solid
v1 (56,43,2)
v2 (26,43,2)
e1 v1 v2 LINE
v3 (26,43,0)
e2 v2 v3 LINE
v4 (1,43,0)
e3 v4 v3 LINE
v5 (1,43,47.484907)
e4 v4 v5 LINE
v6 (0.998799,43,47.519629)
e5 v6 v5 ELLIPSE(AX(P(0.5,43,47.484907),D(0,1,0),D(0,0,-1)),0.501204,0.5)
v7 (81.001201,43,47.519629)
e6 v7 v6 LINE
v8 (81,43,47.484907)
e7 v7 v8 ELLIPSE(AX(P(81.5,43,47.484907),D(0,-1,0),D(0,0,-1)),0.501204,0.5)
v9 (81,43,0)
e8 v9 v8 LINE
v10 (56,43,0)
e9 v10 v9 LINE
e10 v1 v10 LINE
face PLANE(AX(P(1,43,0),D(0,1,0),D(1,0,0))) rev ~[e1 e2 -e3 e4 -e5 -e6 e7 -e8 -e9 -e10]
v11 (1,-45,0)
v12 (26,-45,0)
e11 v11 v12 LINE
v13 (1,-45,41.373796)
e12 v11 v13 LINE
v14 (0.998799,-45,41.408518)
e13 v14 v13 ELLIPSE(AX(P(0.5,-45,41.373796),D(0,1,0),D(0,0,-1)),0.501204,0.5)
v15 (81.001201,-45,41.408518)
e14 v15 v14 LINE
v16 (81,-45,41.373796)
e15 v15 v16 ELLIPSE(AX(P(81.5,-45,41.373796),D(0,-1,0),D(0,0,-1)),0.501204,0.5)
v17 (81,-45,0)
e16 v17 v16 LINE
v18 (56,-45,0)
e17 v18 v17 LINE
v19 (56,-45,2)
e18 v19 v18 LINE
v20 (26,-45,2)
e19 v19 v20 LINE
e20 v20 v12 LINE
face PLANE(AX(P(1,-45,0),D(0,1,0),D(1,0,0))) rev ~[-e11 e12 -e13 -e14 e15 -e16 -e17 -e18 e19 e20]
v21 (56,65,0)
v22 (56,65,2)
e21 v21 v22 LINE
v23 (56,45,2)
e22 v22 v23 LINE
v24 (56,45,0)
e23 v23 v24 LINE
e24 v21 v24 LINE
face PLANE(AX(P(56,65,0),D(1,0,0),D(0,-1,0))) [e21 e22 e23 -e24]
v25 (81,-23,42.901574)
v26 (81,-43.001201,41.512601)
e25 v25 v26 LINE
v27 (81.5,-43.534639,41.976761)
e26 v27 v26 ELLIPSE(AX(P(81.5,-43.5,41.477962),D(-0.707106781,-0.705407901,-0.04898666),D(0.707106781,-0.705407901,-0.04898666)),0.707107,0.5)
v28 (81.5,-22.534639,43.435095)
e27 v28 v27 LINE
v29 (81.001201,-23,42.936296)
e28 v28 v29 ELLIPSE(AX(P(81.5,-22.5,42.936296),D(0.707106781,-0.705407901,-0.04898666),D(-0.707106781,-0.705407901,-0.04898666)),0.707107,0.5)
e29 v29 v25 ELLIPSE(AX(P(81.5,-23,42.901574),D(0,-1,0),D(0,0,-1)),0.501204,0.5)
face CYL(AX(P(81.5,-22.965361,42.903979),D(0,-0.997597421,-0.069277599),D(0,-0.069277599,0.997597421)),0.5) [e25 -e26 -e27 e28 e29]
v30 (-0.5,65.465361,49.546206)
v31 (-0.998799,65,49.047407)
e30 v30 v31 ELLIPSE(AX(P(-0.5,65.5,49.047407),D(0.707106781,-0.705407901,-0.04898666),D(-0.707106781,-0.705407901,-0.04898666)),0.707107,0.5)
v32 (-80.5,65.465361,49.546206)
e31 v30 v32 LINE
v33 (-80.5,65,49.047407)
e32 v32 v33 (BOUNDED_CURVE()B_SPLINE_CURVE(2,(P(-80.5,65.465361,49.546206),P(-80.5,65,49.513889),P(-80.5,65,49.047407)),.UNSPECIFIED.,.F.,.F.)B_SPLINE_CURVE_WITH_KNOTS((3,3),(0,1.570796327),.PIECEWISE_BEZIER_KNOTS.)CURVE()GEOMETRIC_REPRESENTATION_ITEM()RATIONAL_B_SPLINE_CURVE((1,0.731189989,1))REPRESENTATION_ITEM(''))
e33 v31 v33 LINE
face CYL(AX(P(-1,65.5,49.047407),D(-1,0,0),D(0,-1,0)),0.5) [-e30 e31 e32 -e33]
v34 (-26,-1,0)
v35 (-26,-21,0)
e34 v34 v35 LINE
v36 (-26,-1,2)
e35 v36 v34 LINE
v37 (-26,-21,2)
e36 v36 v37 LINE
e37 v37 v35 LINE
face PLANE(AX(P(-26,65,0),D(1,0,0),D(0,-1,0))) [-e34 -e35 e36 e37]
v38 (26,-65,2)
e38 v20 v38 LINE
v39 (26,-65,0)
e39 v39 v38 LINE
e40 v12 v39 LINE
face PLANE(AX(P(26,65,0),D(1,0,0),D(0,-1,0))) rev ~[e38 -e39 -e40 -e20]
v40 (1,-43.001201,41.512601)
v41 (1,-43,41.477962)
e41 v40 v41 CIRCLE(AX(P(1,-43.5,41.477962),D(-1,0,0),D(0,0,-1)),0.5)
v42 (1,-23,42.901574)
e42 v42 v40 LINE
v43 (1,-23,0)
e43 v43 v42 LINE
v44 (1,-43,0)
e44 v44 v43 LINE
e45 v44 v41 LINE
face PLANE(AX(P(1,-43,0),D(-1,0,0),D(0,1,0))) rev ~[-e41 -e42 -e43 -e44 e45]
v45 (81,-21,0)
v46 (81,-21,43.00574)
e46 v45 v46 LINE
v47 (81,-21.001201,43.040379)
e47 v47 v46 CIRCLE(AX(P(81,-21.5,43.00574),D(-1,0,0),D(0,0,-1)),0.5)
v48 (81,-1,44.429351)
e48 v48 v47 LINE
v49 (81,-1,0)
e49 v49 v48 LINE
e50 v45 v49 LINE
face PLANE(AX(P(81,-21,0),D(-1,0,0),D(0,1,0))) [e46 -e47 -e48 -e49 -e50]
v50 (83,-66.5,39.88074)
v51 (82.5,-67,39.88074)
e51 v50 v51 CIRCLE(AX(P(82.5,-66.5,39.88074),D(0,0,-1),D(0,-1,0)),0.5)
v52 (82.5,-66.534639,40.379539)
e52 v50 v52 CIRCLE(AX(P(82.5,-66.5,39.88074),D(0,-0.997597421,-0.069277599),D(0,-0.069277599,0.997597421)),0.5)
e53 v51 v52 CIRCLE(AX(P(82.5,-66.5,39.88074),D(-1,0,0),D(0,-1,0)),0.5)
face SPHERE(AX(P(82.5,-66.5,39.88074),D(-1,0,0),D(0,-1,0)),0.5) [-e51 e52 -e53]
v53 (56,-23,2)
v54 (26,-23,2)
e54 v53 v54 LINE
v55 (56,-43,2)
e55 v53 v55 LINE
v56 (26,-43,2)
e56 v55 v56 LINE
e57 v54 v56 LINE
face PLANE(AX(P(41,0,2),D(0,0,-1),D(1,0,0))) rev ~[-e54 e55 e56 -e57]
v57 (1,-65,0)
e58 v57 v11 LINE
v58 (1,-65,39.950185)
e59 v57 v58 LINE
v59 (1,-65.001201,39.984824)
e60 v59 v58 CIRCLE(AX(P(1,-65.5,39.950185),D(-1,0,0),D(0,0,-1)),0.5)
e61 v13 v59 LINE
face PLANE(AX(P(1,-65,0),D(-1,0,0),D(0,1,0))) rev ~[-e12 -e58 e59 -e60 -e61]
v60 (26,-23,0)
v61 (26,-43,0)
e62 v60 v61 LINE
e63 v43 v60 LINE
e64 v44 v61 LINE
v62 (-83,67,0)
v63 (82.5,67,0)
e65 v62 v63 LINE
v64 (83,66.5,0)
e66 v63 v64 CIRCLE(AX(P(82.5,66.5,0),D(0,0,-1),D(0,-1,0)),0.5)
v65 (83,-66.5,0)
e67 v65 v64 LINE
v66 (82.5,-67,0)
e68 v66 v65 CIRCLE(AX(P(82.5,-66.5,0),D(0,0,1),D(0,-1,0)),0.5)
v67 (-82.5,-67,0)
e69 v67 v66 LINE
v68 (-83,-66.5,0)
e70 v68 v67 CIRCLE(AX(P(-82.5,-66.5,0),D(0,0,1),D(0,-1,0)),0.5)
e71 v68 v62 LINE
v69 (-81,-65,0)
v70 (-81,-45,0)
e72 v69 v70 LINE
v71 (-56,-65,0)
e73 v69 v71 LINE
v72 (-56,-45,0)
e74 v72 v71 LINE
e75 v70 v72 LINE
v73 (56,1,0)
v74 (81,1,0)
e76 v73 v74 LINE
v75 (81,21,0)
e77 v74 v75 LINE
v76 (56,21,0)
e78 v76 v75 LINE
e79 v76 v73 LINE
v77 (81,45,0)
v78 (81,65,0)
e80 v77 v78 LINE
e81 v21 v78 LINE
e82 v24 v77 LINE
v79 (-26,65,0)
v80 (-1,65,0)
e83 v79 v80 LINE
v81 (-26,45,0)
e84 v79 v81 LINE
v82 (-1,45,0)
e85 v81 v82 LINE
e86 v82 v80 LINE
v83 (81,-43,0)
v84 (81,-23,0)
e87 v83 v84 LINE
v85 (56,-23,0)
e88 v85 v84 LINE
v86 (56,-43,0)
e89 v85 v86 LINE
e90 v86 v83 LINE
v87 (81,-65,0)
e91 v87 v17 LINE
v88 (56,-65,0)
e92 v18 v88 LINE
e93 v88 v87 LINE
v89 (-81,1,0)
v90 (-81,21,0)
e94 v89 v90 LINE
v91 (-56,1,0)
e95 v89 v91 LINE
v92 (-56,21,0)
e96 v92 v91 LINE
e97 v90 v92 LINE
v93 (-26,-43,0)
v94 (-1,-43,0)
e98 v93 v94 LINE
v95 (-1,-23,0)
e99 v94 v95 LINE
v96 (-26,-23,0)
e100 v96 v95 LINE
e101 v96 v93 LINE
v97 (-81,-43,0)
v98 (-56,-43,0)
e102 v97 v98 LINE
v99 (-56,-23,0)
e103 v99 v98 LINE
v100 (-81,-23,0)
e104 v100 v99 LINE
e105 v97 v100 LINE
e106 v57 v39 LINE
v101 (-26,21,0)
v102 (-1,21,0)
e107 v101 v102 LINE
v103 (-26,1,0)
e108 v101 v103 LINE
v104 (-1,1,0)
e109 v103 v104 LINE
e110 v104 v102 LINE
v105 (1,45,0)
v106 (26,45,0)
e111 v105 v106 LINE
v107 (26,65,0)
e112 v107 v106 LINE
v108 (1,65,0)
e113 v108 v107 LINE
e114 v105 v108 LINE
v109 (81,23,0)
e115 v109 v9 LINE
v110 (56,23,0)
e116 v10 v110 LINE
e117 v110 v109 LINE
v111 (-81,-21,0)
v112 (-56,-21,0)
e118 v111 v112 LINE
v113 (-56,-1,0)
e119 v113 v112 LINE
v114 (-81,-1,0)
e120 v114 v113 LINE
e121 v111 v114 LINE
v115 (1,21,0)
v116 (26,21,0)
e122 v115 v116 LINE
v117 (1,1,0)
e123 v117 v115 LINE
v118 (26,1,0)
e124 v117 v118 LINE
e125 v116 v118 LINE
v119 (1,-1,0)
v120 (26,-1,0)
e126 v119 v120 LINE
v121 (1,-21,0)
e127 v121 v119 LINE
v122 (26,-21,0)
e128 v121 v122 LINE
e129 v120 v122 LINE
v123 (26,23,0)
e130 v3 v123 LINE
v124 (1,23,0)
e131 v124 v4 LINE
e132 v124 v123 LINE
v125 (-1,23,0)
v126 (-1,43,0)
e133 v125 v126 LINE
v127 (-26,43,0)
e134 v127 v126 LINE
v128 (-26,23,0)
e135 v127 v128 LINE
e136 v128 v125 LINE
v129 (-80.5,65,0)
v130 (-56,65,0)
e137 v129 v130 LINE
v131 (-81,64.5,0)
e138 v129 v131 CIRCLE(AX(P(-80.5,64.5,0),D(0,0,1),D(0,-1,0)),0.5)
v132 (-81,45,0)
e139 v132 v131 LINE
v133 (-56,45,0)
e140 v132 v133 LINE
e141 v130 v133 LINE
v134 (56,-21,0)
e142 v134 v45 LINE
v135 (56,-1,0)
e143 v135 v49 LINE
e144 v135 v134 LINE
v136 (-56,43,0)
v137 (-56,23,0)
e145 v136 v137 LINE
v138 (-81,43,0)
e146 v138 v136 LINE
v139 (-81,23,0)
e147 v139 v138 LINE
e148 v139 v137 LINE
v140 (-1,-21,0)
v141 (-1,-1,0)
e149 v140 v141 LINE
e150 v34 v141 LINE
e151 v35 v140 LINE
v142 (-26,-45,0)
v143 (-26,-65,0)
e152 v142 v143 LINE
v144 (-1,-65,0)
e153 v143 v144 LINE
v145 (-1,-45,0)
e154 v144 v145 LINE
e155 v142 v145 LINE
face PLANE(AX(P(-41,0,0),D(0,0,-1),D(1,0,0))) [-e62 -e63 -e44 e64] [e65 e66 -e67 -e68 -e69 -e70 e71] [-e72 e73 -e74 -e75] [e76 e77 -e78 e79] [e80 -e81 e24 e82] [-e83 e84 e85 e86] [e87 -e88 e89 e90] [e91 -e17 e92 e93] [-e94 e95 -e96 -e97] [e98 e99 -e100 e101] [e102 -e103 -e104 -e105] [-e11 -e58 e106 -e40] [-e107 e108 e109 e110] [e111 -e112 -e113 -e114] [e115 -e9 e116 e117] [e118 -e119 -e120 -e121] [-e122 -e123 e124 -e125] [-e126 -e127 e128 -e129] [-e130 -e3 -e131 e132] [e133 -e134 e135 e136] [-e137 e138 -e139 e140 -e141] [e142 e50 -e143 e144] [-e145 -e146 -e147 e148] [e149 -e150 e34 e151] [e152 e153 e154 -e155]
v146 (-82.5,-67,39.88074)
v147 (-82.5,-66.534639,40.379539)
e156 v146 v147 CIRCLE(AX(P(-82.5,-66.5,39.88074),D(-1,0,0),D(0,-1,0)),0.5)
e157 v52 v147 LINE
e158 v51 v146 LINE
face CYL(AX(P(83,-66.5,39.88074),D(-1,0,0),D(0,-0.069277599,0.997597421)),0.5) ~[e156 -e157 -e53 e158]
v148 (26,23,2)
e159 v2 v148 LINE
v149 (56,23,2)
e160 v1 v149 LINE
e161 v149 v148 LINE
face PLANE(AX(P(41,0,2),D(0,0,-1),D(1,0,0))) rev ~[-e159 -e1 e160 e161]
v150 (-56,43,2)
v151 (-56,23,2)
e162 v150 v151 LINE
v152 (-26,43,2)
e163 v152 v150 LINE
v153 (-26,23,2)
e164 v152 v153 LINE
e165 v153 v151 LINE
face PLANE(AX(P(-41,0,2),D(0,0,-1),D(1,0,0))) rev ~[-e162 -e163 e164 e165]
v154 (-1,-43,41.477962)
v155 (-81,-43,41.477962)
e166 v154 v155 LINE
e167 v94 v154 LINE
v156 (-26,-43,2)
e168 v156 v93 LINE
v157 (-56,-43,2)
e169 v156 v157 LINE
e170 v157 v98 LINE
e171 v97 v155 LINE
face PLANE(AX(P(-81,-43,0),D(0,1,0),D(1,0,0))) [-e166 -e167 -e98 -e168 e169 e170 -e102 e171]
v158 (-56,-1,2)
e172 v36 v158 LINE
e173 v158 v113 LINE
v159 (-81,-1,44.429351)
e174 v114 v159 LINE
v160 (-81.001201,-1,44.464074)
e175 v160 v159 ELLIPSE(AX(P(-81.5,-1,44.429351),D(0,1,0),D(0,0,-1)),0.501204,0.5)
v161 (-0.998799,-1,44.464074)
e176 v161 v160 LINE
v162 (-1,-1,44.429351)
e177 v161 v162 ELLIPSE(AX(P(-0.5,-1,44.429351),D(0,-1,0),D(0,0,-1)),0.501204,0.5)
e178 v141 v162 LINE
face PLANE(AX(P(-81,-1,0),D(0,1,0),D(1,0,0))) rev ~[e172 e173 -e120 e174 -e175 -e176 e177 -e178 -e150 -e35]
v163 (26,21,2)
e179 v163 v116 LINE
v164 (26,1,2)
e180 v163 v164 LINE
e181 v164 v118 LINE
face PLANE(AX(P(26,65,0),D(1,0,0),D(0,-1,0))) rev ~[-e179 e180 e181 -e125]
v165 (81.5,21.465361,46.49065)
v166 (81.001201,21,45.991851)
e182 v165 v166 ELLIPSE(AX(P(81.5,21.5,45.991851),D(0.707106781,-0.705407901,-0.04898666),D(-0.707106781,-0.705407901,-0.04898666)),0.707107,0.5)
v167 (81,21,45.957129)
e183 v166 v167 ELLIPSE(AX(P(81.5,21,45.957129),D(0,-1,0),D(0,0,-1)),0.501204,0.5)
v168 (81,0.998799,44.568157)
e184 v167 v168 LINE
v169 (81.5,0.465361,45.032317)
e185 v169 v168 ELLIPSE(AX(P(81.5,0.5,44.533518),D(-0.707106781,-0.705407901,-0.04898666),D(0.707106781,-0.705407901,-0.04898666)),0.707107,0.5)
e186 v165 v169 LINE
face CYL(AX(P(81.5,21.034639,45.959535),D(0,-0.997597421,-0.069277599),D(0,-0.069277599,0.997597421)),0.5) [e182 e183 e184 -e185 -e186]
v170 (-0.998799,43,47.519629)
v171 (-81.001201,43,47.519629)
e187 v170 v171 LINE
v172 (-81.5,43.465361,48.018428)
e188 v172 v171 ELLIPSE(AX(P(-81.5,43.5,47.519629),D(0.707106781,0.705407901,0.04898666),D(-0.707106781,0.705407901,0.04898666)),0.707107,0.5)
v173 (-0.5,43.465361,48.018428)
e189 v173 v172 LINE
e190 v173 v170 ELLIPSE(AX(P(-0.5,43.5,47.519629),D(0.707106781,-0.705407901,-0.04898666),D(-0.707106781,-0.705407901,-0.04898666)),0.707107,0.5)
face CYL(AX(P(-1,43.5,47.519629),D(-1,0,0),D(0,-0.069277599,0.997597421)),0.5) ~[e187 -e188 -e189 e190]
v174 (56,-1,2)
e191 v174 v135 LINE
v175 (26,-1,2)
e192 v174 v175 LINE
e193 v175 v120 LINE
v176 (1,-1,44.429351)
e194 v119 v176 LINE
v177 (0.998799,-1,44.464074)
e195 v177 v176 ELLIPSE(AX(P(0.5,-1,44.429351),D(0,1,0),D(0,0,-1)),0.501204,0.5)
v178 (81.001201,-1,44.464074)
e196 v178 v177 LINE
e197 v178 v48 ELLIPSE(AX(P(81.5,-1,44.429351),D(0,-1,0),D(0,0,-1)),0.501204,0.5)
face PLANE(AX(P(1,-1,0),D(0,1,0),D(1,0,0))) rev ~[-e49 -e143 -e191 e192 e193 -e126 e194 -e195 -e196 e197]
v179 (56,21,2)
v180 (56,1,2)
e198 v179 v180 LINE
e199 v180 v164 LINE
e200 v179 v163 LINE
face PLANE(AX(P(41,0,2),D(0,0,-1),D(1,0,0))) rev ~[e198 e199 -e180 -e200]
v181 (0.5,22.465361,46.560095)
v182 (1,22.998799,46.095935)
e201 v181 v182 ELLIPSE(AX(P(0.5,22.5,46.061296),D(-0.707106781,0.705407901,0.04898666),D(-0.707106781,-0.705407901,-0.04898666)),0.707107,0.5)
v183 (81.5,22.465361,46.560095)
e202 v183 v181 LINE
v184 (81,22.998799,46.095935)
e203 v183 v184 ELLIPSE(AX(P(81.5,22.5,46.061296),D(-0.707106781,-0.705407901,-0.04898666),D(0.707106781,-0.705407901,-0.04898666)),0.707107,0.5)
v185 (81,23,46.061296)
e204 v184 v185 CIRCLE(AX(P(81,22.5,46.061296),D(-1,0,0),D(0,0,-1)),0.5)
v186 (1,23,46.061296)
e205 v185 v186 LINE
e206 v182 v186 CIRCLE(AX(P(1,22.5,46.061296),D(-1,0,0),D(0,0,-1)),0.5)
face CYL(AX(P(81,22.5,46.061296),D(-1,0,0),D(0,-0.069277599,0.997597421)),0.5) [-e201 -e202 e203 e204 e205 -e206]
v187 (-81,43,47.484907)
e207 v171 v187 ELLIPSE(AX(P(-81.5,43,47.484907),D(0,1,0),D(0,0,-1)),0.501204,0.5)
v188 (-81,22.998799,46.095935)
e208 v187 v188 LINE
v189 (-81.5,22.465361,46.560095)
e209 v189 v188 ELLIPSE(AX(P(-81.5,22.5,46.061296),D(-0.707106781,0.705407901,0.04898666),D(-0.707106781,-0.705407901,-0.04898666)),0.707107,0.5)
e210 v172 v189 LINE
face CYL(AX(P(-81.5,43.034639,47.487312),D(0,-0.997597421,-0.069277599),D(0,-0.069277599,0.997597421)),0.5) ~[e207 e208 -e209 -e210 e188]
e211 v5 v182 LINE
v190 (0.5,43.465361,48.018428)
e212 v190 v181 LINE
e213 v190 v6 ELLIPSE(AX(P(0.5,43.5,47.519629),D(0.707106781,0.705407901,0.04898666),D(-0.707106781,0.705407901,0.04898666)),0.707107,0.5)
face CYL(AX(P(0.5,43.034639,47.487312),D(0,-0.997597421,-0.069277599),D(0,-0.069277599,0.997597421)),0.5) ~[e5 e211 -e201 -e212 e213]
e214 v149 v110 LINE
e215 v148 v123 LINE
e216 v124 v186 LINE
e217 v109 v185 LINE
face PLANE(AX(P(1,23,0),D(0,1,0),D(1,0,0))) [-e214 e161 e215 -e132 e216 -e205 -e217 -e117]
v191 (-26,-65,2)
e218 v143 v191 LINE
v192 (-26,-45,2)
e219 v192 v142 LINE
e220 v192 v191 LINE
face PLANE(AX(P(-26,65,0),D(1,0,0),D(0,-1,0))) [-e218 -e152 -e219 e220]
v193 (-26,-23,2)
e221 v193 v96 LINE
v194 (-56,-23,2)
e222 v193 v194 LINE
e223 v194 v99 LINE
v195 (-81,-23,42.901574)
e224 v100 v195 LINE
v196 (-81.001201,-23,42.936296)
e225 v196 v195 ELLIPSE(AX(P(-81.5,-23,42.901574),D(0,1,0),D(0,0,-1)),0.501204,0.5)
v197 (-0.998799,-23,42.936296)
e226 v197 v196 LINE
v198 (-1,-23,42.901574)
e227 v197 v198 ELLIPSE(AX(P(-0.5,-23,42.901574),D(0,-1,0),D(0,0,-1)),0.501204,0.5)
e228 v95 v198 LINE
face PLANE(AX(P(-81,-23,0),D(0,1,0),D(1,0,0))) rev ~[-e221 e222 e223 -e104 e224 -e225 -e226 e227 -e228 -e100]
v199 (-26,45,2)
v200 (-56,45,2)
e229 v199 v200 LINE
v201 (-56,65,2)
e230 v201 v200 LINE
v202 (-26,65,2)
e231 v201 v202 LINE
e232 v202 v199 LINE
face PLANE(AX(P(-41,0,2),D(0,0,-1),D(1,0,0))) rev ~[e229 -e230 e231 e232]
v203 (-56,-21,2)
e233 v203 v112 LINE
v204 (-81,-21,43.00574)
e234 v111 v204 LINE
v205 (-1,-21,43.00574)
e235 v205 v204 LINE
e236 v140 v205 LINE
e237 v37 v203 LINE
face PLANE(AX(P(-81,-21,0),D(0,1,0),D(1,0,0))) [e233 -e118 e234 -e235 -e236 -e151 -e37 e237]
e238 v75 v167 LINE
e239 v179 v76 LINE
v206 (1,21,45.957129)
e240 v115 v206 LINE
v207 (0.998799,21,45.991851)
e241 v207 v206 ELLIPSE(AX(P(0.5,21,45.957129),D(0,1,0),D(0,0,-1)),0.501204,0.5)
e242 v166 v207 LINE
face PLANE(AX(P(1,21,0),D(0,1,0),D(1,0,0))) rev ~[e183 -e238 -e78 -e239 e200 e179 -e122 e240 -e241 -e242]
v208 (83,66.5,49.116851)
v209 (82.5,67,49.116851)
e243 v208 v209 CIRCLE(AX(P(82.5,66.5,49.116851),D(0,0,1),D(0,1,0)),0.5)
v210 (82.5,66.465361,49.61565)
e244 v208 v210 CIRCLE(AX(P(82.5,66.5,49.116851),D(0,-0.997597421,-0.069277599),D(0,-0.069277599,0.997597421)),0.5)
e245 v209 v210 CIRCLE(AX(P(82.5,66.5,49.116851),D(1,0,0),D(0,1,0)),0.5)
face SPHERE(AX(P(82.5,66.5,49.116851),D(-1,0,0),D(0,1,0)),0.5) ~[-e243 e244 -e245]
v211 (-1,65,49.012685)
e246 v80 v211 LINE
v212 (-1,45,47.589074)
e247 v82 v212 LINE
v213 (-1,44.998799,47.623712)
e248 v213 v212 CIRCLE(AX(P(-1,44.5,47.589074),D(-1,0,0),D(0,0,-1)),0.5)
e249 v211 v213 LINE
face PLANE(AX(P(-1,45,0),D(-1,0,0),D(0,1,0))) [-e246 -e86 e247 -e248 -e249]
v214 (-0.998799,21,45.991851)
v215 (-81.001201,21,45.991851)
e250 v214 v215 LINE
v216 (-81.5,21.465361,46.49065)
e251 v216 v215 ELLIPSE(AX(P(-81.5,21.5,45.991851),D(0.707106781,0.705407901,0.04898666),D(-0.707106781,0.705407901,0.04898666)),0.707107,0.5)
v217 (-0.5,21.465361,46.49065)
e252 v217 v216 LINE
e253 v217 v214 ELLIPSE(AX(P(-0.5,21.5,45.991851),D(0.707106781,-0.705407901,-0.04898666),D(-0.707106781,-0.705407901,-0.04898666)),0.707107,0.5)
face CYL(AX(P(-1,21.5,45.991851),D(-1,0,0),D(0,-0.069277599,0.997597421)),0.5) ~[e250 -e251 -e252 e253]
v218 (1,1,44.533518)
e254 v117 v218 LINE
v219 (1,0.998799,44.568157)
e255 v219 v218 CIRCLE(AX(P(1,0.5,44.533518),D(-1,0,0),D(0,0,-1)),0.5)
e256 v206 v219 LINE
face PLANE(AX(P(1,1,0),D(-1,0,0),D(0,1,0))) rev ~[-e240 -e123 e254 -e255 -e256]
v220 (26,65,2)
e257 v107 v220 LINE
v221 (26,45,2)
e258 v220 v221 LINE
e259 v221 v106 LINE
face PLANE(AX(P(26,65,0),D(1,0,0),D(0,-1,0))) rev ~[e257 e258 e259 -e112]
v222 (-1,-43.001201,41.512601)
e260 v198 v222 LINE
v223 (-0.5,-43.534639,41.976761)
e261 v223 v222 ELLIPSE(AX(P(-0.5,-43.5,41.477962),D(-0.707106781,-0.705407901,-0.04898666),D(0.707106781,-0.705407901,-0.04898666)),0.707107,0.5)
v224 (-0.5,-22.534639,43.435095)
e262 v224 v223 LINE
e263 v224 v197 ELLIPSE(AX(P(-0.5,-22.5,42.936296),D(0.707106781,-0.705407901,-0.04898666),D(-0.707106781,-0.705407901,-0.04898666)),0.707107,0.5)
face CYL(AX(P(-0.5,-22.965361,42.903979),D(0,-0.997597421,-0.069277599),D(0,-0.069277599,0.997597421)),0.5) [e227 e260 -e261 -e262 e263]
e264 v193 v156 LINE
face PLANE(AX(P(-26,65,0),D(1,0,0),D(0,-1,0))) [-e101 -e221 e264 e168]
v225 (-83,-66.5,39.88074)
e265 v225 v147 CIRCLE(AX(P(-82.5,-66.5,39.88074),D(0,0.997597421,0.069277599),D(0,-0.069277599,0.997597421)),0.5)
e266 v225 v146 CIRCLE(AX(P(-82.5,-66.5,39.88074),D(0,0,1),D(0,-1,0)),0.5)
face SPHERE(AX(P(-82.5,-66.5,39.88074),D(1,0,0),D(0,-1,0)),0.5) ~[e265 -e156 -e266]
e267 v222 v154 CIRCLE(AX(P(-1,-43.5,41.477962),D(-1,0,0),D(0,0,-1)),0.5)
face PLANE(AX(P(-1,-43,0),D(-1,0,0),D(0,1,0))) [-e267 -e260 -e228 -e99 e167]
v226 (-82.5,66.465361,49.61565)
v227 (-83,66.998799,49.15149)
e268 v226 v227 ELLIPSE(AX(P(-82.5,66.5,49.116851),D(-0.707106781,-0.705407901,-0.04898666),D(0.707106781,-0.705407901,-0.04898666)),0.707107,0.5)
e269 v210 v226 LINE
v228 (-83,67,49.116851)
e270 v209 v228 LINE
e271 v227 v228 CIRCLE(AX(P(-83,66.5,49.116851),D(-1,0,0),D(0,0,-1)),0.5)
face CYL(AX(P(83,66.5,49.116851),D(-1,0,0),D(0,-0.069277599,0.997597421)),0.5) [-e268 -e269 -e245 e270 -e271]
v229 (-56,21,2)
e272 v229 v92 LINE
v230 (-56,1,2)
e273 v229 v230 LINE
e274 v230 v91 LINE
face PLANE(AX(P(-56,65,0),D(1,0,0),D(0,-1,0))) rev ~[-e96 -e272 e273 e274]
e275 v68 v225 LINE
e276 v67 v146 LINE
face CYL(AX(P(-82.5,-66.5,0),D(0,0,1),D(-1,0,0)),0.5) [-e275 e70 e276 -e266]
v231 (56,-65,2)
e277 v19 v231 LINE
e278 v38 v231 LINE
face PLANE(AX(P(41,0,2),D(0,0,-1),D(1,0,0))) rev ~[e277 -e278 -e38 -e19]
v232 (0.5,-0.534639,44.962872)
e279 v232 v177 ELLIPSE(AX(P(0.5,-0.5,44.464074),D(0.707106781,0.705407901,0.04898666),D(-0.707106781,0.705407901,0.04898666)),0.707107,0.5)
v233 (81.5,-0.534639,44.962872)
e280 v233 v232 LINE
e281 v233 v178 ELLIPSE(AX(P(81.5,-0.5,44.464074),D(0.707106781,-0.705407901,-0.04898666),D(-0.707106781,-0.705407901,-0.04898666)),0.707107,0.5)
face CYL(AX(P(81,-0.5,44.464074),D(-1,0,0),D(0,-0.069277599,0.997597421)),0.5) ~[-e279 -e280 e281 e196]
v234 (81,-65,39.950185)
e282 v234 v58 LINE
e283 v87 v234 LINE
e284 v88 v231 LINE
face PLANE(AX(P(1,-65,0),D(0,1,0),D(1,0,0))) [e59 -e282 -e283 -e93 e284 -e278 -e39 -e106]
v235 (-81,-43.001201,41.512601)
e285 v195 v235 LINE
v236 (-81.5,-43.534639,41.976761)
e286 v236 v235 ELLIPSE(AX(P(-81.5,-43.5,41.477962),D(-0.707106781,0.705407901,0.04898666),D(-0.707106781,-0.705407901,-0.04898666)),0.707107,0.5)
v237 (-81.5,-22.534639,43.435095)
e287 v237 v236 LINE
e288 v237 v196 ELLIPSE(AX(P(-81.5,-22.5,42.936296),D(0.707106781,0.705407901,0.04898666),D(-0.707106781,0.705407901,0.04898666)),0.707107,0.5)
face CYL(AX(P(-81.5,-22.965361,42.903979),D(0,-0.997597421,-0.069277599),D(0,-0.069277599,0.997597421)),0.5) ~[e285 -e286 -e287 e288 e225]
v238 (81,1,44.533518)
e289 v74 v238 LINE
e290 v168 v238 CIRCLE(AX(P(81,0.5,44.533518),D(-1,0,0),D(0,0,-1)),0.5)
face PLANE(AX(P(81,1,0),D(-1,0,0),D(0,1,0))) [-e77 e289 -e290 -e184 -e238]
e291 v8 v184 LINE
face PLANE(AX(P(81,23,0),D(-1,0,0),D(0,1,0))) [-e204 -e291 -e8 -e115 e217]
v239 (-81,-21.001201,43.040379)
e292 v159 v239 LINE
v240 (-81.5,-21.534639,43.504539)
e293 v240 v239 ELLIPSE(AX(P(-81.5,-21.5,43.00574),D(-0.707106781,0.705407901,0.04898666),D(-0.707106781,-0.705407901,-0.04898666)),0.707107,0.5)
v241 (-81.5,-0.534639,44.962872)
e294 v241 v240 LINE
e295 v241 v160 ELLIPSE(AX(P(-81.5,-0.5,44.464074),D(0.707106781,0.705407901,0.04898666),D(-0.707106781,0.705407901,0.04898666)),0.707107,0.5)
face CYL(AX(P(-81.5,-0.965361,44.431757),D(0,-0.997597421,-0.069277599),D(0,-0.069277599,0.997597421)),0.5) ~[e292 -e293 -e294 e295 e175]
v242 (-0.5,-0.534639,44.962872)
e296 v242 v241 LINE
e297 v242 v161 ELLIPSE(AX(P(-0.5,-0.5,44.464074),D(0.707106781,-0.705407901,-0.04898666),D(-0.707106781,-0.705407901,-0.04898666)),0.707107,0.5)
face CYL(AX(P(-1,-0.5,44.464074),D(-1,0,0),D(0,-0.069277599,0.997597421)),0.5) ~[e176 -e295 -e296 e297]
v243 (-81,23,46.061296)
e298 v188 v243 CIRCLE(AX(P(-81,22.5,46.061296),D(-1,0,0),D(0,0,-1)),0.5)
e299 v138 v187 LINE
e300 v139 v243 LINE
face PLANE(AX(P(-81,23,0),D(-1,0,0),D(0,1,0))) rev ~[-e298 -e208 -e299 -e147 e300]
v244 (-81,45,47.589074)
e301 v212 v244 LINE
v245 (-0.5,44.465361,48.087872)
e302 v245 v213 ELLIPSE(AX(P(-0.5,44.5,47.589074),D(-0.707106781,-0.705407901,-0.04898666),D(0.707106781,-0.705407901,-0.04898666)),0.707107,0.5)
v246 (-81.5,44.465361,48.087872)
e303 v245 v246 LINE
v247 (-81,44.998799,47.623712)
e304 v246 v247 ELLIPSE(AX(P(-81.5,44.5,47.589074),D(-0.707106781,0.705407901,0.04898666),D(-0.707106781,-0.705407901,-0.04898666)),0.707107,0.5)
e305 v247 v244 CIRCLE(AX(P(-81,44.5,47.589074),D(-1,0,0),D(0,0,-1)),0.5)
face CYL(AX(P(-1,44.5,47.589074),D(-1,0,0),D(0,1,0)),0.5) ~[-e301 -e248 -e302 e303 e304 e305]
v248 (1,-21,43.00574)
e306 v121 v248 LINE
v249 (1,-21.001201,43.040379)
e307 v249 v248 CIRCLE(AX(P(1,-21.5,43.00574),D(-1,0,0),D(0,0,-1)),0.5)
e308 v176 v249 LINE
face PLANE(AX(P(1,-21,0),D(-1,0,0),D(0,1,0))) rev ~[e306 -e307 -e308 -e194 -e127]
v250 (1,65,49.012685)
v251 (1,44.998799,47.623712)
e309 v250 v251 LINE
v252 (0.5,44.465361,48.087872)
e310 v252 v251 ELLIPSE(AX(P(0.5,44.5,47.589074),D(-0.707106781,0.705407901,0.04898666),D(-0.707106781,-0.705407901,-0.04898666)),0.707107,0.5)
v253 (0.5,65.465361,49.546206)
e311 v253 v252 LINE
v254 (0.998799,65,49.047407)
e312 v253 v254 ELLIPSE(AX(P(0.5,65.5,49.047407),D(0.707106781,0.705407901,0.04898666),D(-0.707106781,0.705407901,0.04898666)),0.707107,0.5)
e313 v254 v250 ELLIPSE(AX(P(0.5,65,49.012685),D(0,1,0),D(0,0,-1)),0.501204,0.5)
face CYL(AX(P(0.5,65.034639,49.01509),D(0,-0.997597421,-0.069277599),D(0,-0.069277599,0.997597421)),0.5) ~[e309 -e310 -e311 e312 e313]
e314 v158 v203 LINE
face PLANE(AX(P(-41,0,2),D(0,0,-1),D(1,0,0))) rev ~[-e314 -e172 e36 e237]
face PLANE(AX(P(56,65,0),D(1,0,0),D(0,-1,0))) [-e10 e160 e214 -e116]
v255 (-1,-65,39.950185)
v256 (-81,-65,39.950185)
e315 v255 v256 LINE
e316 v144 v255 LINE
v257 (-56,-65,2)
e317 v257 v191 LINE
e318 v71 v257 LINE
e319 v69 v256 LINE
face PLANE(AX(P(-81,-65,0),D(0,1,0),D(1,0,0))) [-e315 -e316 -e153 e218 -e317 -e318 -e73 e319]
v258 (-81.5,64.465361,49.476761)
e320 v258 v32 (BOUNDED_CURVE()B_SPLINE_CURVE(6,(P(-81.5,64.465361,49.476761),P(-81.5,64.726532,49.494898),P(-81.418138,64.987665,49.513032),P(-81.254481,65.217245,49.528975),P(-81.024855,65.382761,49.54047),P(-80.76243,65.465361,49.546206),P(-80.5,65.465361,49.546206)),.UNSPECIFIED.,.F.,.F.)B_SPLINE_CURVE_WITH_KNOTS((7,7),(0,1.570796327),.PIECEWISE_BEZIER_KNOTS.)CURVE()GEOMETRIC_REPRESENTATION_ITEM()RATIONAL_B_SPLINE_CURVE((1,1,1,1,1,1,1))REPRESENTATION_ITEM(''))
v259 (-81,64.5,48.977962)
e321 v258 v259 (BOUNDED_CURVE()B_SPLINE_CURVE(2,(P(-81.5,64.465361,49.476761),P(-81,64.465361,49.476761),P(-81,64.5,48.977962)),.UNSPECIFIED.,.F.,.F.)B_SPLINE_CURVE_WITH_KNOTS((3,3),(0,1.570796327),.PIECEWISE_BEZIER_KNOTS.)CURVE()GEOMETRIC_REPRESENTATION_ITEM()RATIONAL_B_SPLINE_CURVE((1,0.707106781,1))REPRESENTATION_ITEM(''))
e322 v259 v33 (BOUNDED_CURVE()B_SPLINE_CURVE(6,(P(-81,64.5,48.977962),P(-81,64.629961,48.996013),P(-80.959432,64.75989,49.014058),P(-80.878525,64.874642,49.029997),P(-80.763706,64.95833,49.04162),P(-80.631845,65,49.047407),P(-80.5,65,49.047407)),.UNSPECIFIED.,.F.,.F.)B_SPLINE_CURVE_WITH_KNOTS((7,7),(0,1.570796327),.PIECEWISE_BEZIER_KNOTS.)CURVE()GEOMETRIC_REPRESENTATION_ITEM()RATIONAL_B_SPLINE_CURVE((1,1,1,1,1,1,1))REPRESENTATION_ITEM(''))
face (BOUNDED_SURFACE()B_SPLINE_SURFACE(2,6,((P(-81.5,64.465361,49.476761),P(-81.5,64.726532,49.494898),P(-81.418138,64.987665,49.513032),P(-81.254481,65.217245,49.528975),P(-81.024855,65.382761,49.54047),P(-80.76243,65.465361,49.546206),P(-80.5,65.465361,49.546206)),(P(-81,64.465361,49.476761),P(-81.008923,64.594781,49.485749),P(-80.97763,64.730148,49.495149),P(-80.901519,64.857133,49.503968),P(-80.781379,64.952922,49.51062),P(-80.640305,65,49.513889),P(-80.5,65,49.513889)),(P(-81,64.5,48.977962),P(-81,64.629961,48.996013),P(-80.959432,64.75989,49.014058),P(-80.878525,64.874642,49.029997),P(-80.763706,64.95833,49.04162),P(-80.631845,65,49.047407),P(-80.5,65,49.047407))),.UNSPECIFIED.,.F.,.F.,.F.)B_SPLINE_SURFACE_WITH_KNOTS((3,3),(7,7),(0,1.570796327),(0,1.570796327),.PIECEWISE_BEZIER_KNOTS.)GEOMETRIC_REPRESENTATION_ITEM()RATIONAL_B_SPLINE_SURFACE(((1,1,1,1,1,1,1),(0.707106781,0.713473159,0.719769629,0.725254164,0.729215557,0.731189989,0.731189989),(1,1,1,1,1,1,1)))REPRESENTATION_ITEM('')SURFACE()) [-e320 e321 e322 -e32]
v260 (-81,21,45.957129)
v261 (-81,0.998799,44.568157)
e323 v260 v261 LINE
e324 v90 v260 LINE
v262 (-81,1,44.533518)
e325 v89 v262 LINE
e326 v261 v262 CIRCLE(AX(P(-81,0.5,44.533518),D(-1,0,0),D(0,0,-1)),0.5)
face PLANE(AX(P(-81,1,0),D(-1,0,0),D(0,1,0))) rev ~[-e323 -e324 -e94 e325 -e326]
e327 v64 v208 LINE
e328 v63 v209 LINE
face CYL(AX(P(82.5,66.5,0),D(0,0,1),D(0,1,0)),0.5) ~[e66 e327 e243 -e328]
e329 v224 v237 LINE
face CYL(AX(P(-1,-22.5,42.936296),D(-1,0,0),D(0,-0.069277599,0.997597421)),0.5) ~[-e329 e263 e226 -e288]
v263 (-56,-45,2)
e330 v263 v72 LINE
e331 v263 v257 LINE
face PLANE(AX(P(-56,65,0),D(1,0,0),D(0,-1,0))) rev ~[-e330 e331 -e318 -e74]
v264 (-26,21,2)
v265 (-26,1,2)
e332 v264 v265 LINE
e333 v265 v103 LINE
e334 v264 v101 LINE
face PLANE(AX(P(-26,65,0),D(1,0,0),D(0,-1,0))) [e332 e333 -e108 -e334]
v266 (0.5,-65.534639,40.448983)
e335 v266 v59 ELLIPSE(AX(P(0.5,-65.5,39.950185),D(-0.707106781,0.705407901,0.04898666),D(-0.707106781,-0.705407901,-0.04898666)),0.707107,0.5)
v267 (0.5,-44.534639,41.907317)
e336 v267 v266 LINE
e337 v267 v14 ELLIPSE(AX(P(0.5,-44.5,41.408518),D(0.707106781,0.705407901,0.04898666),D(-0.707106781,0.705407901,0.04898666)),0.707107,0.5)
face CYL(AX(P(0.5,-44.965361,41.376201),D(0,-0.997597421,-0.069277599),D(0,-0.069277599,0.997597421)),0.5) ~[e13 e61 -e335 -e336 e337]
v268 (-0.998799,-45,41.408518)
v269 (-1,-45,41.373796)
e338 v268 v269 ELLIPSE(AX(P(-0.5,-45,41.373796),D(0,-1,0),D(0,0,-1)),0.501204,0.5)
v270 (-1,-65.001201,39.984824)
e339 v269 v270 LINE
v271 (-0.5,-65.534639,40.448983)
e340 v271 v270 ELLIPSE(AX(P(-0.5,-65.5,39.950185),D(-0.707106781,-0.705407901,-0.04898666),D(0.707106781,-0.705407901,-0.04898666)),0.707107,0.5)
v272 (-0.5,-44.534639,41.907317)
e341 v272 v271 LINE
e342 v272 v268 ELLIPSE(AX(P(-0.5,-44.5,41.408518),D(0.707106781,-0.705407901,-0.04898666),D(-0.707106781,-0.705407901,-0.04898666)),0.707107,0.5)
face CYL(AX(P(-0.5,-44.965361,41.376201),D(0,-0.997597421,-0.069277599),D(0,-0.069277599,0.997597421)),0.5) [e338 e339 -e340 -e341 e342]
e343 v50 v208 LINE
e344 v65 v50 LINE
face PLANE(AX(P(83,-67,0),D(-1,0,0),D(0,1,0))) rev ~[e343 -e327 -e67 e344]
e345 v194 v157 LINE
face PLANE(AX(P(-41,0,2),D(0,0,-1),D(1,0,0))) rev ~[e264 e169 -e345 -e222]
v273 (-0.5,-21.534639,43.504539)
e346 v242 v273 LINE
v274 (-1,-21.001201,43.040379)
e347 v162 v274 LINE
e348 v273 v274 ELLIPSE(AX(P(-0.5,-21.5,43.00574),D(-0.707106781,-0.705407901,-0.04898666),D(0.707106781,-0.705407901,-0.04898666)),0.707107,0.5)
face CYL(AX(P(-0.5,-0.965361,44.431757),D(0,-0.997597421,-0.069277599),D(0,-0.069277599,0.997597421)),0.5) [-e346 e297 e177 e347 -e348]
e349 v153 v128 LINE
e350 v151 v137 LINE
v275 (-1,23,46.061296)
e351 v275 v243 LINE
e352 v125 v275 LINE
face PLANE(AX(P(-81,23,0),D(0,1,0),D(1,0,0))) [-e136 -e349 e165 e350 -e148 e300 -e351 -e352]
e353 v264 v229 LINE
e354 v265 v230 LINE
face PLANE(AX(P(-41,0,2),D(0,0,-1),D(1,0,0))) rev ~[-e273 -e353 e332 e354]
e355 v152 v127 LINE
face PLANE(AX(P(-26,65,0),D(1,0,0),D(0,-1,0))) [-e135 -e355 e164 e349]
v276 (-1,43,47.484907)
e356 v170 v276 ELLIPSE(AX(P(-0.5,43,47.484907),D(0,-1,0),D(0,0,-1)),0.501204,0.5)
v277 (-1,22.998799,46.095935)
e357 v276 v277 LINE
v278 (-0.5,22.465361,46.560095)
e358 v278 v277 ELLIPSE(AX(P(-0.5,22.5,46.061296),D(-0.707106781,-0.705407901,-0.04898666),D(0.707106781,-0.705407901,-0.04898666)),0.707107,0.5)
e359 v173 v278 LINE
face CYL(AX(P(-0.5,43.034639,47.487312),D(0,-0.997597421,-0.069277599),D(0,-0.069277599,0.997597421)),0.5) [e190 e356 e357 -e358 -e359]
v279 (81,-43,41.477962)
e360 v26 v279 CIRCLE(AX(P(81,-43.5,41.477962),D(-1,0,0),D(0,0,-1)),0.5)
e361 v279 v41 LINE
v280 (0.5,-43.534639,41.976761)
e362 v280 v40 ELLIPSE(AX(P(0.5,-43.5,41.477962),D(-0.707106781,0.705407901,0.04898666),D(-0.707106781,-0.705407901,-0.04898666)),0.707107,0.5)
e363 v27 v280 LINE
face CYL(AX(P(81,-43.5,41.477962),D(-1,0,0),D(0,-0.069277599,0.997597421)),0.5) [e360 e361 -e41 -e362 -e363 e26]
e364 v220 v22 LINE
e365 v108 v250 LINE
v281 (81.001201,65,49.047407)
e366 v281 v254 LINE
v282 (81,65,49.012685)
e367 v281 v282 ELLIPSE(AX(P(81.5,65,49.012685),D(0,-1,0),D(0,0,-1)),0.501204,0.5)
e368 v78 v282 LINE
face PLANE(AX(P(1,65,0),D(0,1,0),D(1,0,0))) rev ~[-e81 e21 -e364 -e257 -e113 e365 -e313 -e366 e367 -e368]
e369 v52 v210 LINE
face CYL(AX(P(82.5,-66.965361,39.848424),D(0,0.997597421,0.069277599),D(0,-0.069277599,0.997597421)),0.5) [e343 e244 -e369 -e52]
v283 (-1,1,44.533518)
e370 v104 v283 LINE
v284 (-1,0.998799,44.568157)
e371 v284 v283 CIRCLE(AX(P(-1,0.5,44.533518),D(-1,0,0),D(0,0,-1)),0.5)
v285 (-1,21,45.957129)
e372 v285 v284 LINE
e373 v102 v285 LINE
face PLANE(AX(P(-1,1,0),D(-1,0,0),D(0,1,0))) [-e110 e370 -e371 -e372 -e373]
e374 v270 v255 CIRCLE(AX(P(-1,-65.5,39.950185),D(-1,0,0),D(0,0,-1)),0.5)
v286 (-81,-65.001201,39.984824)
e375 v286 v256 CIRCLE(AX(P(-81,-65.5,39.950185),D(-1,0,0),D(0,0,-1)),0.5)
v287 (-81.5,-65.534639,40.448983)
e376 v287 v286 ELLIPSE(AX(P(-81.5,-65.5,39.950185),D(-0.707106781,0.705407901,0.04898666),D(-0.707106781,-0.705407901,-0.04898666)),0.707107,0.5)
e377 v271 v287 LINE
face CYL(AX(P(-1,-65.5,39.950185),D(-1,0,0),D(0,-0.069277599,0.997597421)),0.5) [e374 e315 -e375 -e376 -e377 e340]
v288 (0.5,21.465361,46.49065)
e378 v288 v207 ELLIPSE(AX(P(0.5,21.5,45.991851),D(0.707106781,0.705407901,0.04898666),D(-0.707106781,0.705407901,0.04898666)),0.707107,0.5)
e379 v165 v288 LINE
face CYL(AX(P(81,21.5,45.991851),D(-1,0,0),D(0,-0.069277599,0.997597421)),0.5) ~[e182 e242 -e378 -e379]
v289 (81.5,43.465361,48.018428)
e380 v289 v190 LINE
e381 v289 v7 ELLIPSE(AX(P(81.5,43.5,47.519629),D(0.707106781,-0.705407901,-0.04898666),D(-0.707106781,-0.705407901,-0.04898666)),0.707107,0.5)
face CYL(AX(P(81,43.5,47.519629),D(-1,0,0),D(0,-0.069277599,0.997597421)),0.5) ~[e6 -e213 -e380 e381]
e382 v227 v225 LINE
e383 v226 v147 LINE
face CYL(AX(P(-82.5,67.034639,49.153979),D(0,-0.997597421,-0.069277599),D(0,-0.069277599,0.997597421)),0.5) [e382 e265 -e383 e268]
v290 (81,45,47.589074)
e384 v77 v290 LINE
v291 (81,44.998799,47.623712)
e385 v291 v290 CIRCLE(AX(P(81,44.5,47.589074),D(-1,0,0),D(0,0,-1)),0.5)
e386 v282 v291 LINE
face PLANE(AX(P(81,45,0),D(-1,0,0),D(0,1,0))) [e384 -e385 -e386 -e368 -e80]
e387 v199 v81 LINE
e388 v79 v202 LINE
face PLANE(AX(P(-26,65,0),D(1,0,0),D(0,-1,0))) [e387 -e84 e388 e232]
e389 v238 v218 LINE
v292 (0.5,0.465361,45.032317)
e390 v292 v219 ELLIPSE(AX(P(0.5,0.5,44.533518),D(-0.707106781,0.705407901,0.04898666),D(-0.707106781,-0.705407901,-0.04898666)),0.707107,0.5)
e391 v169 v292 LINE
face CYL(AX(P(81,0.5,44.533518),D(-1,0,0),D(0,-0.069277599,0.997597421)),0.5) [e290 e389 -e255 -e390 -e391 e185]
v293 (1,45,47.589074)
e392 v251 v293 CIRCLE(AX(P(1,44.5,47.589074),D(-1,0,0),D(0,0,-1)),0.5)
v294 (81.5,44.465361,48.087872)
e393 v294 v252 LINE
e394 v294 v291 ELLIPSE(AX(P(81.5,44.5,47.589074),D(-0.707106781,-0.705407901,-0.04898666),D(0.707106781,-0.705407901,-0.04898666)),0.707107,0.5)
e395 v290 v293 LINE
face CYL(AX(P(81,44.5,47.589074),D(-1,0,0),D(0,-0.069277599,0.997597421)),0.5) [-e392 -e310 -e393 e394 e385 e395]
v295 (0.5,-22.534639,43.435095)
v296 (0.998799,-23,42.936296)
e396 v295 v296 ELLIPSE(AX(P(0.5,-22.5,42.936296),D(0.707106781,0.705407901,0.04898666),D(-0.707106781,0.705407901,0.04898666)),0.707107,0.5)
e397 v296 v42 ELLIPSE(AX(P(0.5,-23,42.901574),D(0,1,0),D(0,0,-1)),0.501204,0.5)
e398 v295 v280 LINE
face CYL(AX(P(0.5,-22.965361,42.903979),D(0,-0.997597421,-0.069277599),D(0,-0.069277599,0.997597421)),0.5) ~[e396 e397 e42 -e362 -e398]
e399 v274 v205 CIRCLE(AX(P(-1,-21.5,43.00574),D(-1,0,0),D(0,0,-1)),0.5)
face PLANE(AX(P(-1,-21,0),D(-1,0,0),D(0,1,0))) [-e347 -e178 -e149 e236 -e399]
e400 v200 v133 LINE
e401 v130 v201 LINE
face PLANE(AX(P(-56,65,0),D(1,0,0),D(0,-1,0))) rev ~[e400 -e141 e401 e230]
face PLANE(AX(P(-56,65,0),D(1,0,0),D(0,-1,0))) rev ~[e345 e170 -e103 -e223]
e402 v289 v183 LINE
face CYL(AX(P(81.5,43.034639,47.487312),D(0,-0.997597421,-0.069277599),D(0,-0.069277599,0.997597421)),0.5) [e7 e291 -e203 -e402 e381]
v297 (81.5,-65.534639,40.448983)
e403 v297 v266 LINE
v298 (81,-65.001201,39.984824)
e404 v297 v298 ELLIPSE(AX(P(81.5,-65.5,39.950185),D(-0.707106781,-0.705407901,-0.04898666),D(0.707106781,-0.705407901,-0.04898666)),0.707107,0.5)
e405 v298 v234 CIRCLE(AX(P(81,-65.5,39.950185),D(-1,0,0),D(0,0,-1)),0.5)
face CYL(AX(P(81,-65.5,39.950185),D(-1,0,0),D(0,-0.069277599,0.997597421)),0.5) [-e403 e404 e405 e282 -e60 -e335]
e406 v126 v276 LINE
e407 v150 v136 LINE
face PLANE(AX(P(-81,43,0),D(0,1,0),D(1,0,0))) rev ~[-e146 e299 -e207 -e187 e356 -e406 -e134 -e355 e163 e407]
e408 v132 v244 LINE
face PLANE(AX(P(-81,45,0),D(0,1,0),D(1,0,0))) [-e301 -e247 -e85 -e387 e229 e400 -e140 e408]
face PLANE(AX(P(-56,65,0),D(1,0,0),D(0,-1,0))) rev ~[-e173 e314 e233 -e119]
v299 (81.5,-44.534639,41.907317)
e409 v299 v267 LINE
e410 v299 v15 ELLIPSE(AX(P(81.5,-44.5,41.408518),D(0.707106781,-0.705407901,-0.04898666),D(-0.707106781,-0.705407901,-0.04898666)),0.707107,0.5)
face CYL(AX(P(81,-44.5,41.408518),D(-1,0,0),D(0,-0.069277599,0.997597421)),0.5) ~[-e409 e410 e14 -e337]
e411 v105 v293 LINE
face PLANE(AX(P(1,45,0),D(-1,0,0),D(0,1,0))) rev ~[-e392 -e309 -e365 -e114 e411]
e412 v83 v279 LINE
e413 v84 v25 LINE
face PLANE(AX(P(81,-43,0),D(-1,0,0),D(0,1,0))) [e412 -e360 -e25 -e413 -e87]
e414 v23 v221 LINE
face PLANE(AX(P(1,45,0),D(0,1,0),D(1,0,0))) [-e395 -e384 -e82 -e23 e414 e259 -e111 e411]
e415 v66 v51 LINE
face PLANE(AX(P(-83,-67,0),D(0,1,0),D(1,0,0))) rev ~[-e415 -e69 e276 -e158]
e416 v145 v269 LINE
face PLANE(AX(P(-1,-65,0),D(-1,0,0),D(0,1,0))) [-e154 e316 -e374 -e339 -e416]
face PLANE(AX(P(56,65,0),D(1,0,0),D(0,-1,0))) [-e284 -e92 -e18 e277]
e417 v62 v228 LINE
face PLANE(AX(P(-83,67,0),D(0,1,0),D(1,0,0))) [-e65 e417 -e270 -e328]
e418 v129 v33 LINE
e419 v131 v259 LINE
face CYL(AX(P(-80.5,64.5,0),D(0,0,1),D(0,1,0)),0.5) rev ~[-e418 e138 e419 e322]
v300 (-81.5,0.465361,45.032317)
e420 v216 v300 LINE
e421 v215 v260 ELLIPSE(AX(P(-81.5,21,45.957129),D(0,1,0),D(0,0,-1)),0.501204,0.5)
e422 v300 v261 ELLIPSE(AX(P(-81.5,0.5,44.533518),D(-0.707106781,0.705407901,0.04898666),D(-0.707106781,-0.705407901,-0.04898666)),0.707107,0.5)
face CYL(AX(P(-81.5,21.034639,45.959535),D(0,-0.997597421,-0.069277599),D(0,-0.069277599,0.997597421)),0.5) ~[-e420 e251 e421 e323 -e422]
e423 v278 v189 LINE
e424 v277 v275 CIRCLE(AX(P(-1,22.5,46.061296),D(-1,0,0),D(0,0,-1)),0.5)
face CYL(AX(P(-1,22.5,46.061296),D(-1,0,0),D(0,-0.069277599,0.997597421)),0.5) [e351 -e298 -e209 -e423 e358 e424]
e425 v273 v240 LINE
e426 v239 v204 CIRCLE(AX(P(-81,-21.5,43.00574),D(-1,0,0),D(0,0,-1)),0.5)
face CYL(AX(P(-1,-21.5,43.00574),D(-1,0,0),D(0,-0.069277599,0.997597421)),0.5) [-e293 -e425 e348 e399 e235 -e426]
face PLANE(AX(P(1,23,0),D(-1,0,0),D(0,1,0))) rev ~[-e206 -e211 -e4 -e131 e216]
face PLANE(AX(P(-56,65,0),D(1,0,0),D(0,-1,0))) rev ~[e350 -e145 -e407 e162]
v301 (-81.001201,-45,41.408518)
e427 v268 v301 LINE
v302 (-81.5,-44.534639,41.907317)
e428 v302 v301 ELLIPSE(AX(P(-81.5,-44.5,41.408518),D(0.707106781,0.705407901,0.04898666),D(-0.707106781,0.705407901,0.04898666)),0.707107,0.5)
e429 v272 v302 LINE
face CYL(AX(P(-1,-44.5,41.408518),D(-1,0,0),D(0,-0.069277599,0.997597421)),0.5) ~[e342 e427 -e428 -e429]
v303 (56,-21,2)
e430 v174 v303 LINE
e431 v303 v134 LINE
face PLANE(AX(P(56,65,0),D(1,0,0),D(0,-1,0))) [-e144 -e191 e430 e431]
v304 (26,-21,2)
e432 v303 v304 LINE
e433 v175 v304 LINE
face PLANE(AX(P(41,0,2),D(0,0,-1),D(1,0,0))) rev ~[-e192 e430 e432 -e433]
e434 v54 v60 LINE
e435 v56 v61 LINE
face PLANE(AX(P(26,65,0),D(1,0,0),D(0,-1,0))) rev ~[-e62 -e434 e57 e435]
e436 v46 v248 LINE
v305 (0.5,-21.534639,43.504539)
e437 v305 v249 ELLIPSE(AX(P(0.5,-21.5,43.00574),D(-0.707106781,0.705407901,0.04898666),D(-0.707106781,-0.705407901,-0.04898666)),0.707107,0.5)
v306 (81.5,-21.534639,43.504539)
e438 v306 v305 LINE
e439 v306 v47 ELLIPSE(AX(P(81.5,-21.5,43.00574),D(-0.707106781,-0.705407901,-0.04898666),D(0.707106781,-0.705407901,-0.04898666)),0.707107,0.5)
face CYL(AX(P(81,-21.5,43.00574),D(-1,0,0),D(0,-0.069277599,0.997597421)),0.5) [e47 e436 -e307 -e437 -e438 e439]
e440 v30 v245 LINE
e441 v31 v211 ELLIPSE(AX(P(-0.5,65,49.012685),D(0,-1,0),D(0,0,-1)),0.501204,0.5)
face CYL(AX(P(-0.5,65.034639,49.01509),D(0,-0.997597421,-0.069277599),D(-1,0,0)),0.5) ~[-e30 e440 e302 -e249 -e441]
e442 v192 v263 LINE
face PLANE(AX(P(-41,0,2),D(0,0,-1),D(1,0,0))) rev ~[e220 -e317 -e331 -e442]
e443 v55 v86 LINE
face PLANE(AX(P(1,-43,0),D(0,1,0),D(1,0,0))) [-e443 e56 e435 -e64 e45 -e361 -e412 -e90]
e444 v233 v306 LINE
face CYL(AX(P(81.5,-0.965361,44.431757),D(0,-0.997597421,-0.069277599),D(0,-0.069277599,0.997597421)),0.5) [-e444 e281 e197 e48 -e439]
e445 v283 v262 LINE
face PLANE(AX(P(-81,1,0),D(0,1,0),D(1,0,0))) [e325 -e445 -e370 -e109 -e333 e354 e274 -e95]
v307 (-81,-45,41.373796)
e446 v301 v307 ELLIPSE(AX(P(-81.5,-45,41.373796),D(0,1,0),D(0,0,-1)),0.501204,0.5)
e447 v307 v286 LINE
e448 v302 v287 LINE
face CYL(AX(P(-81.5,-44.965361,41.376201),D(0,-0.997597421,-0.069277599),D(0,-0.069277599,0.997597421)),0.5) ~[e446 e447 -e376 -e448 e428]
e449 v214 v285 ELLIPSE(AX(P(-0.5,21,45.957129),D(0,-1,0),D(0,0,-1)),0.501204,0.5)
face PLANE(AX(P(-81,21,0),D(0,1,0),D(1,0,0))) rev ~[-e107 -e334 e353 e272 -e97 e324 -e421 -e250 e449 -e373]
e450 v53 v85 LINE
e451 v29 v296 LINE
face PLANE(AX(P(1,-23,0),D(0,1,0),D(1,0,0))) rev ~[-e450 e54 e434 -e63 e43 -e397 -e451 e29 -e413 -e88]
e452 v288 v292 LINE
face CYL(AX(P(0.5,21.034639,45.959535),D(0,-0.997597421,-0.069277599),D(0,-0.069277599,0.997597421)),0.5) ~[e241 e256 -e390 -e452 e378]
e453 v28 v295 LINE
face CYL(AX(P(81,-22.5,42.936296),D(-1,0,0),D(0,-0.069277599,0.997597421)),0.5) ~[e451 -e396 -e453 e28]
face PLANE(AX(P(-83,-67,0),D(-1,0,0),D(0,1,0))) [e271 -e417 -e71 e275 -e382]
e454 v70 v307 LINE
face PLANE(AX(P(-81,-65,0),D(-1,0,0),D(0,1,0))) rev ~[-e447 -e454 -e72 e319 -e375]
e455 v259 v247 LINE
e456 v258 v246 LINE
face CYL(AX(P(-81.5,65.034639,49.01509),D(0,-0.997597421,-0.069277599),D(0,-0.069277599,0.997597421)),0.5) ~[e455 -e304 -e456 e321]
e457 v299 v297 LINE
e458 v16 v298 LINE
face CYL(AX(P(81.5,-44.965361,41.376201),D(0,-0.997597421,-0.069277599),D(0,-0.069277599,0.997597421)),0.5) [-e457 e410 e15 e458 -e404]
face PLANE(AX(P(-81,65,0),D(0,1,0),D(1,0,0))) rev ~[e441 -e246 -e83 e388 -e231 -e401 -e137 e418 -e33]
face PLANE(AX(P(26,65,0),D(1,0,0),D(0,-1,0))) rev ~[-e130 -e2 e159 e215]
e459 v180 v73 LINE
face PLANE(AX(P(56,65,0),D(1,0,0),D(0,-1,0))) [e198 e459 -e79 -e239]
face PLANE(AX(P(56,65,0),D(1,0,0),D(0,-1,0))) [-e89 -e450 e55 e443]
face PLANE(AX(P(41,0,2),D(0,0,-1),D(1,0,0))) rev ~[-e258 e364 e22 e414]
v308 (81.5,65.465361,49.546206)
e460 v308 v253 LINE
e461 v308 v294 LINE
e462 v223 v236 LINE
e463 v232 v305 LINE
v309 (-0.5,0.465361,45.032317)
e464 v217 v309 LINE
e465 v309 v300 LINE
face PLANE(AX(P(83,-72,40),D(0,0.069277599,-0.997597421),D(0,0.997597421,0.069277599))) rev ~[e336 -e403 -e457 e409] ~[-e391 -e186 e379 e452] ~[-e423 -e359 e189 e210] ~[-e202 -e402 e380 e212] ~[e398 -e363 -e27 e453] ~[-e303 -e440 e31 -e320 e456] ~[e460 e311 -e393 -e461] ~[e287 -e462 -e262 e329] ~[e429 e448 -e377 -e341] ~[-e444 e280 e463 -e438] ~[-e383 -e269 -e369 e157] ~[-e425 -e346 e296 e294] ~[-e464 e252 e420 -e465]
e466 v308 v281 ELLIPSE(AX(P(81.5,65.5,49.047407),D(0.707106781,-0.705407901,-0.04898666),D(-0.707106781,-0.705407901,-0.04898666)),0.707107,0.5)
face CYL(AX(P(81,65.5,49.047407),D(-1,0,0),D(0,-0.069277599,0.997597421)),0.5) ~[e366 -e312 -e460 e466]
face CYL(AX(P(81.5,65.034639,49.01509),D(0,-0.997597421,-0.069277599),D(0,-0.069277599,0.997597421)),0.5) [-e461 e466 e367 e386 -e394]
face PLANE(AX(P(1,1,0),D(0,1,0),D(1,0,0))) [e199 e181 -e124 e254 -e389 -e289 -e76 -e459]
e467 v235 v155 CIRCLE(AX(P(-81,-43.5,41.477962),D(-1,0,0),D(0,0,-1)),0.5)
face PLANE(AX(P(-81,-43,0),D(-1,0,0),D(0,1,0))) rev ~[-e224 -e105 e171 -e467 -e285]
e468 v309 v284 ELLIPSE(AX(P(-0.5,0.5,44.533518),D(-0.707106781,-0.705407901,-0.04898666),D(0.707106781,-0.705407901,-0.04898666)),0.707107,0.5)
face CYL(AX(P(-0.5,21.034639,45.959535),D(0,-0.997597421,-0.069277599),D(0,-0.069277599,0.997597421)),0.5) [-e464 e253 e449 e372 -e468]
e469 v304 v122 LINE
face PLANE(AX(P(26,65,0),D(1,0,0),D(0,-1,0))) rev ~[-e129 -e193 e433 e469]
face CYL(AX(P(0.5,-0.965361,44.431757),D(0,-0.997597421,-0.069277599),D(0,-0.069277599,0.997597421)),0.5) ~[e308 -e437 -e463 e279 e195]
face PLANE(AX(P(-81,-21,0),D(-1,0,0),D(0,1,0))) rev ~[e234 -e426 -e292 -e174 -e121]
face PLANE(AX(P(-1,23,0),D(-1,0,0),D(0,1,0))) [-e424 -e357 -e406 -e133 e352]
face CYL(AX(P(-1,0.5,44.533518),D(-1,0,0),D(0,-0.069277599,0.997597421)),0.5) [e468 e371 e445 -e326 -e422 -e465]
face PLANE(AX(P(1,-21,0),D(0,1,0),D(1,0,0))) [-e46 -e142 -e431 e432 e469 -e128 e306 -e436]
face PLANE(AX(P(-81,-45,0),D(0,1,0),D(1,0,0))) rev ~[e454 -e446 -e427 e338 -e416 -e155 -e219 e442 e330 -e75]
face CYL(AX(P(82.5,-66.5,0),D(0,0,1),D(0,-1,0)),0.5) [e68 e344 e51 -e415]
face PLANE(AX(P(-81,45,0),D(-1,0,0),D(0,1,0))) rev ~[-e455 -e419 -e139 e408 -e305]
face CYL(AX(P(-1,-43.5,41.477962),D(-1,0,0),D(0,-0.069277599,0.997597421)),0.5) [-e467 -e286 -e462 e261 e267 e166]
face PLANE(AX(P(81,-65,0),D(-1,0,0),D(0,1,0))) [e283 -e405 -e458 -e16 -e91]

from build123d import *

# Parameters (mm, degrees)
SKETCH_W     = 166
SKETCH_H     = 134
SKETCH_W_2   = 80
SKETCH_H_2   = 20
PAD_DEPTH    = 50
POCKET_DEPTH = 166.001
SKETCH002_W  = 30
SKETCH002_H  = 130
PAD001_DEPTH = 2
FILLET_R     = 0.5


with BuildPart() as part:
    # Sketch → Pad (new body)
    with BuildSketch(Plane.XY):
        Rectangle(SKETCH_W, SKETCH_H)
        with Locations((-41, -55)):
            Rectangle(SKETCH_W_2, SKETCH_H_2, mode=Mode.SUBTRACT)
        with Locations((-41, -33)):
            Rectangle(SKETCH_W_2, SKETCH_H_2, mode=Mode.SUBTRACT)
        with Locations((-41, -11)):
            Rectangle(SKETCH_W_2, SKETCH_H_2, mode=Mode.SUBTRACT)
        with Locations((-41, 11)):
            Rectangle(SKETCH_W_2, SKETCH_H_2, mode=Mode.SUBTRACT)
        with Locations((-41, 33)):
            Rectangle(SKETCH_W_2, SKETCH_H_2, mode=Mode.SUBTRACT)
        with Locations((-41, 55)):
            Rectangle(SKETCH_W_2, SKETCH_H_2, mode=Mode.SUBTRACT)
        with Locations((41, 55)):
            Rectangle(SKETCH_W_2, SKETCH_H_2, mode=Mode.SUBTRACT)
        with Locations((41, 33)):
            Rectangle(SKETCH_W_2, SKETCH_H_2, mode=Mode.SUBTRACT)
        with Locations((41, 11)):
            Rectangle(SKETCH_W_2, SKETCH_H_2, mode=Mode.SUBTRACT)
        with Locations((41, -11)):
            Rectangle(SKETCH_W_2, SKETCH_H_2, mode=Mode.SUBTRACT)
        with Locations((41, -33)):
            Rectangle(SKETCH_W_2, SKETCH_H_2, mode=Mode.SUBTRACT)
        with Locations((41, -55)):
            Rectangle(SKETCH_W_2, SKETCH_H_2, mode=Mode.SUBTRACT)
    extrude(amount=PAD_DEPTH)

    # Sketch001 (on Face2 of Pad) → Pocket (cut, through all)
    with BuildSketch(Plane.YZ.offset(83)):
        Polygon((-72, 40), (72, 50), (72, 60), (-72, 60), align=None)
    extrude(amount=-POCKET_DEPTH, mode=Mode.SUBTRACT)

    # Sketch002 (on Face2 of Pocket) → Pad001 (join)
    with BuildSketch(Plane(origin=(0, 0, 0), x_dir=(1, 0, 0), z_dir=(0, 0, -1))):
        with Locations((-41, 0)):
            Rectangle(SKETCH002_W, SKETCH002_H)
        with Locations((41, 0)):
            Rectangle(SKETCH002_W, SKETCH002_H)
    extrude(amount=-PAD001_DEPTH)

    # Fillet
    fillet_edges = [part.edges().sort_by_distance(p)[0] for p in [
        (83, 0, 45),
        (0, 67, 49.652778),
        (-83, 0, 45),
        (0, -67, 40.347222),
        (-41, -65, 40.486111),
        (-81, -55, 41.180556),
        (-41, -45, 41.875),
        (-1, -55, 41.180556),
        (-81, -33, 42.708333),
        (-41, -23, 43.402778),
        (-1, -33, 42.708333),
        (-41, -43, 42.013889),
        (-81, -11, 44.236111),
        (-41, -1, 44.930556),
        (-1, -11, 44.236111),
        (-41, -21, 43.541667),
        (-81, 11, 45.763889),
        (-41, 21, 46.458333),
        (-1, 11, 45.763889),
        (-41, 1, 45.069444),
        (-81, 33, 47.291667),
        (-41, 43, 47.986111),
        (-1, 33, 47.291667),
        (-41, 23, 46.597222),
        (-81, 55, 48.819444),
        (-41, 65, 49.513889),
        (-1, 55, 48.819444),
        (-41, 45, 48.125),
        (81, -55, 41.180556),
        (41, -65, 40.486111),
        (1, -55, 41.180556),
        (41, -45, 41.875),
        (81, -33, 42.708333),
        (41, -43, 42.013889),
        (1, -33, 42.708333),
        (41, -23, 43.402778),
        (81, -11, 44.236111),
        (41, -21, 43.541667),
        (1, -11, 44.236111),
        (41, -1, 44.930556),
        (81, 11, 45.763889),
        (41, 1, 45.069444),
        (1, 11, 45.763889),
        (41, 21, 46.458333),
        (81, 33, 47.291667),
        (41, 23, 46.597222),
        (1, 33, 47.291667),
        (41, 43, 47.986111),
        (81, 55, 48.819444),
        (41, 45, 48.125),
        (1, 55, 48.819444),
        (41, 65, 49.513889),
        (-83, -67, 20.173611),
        (83, 67, 24.826389),
        (-81, 65, 24.756944),
        (83, -67, 20.173611),
    ]]
    fillet(fillet_edges, radius=FILLET_R)


solid = part.part
